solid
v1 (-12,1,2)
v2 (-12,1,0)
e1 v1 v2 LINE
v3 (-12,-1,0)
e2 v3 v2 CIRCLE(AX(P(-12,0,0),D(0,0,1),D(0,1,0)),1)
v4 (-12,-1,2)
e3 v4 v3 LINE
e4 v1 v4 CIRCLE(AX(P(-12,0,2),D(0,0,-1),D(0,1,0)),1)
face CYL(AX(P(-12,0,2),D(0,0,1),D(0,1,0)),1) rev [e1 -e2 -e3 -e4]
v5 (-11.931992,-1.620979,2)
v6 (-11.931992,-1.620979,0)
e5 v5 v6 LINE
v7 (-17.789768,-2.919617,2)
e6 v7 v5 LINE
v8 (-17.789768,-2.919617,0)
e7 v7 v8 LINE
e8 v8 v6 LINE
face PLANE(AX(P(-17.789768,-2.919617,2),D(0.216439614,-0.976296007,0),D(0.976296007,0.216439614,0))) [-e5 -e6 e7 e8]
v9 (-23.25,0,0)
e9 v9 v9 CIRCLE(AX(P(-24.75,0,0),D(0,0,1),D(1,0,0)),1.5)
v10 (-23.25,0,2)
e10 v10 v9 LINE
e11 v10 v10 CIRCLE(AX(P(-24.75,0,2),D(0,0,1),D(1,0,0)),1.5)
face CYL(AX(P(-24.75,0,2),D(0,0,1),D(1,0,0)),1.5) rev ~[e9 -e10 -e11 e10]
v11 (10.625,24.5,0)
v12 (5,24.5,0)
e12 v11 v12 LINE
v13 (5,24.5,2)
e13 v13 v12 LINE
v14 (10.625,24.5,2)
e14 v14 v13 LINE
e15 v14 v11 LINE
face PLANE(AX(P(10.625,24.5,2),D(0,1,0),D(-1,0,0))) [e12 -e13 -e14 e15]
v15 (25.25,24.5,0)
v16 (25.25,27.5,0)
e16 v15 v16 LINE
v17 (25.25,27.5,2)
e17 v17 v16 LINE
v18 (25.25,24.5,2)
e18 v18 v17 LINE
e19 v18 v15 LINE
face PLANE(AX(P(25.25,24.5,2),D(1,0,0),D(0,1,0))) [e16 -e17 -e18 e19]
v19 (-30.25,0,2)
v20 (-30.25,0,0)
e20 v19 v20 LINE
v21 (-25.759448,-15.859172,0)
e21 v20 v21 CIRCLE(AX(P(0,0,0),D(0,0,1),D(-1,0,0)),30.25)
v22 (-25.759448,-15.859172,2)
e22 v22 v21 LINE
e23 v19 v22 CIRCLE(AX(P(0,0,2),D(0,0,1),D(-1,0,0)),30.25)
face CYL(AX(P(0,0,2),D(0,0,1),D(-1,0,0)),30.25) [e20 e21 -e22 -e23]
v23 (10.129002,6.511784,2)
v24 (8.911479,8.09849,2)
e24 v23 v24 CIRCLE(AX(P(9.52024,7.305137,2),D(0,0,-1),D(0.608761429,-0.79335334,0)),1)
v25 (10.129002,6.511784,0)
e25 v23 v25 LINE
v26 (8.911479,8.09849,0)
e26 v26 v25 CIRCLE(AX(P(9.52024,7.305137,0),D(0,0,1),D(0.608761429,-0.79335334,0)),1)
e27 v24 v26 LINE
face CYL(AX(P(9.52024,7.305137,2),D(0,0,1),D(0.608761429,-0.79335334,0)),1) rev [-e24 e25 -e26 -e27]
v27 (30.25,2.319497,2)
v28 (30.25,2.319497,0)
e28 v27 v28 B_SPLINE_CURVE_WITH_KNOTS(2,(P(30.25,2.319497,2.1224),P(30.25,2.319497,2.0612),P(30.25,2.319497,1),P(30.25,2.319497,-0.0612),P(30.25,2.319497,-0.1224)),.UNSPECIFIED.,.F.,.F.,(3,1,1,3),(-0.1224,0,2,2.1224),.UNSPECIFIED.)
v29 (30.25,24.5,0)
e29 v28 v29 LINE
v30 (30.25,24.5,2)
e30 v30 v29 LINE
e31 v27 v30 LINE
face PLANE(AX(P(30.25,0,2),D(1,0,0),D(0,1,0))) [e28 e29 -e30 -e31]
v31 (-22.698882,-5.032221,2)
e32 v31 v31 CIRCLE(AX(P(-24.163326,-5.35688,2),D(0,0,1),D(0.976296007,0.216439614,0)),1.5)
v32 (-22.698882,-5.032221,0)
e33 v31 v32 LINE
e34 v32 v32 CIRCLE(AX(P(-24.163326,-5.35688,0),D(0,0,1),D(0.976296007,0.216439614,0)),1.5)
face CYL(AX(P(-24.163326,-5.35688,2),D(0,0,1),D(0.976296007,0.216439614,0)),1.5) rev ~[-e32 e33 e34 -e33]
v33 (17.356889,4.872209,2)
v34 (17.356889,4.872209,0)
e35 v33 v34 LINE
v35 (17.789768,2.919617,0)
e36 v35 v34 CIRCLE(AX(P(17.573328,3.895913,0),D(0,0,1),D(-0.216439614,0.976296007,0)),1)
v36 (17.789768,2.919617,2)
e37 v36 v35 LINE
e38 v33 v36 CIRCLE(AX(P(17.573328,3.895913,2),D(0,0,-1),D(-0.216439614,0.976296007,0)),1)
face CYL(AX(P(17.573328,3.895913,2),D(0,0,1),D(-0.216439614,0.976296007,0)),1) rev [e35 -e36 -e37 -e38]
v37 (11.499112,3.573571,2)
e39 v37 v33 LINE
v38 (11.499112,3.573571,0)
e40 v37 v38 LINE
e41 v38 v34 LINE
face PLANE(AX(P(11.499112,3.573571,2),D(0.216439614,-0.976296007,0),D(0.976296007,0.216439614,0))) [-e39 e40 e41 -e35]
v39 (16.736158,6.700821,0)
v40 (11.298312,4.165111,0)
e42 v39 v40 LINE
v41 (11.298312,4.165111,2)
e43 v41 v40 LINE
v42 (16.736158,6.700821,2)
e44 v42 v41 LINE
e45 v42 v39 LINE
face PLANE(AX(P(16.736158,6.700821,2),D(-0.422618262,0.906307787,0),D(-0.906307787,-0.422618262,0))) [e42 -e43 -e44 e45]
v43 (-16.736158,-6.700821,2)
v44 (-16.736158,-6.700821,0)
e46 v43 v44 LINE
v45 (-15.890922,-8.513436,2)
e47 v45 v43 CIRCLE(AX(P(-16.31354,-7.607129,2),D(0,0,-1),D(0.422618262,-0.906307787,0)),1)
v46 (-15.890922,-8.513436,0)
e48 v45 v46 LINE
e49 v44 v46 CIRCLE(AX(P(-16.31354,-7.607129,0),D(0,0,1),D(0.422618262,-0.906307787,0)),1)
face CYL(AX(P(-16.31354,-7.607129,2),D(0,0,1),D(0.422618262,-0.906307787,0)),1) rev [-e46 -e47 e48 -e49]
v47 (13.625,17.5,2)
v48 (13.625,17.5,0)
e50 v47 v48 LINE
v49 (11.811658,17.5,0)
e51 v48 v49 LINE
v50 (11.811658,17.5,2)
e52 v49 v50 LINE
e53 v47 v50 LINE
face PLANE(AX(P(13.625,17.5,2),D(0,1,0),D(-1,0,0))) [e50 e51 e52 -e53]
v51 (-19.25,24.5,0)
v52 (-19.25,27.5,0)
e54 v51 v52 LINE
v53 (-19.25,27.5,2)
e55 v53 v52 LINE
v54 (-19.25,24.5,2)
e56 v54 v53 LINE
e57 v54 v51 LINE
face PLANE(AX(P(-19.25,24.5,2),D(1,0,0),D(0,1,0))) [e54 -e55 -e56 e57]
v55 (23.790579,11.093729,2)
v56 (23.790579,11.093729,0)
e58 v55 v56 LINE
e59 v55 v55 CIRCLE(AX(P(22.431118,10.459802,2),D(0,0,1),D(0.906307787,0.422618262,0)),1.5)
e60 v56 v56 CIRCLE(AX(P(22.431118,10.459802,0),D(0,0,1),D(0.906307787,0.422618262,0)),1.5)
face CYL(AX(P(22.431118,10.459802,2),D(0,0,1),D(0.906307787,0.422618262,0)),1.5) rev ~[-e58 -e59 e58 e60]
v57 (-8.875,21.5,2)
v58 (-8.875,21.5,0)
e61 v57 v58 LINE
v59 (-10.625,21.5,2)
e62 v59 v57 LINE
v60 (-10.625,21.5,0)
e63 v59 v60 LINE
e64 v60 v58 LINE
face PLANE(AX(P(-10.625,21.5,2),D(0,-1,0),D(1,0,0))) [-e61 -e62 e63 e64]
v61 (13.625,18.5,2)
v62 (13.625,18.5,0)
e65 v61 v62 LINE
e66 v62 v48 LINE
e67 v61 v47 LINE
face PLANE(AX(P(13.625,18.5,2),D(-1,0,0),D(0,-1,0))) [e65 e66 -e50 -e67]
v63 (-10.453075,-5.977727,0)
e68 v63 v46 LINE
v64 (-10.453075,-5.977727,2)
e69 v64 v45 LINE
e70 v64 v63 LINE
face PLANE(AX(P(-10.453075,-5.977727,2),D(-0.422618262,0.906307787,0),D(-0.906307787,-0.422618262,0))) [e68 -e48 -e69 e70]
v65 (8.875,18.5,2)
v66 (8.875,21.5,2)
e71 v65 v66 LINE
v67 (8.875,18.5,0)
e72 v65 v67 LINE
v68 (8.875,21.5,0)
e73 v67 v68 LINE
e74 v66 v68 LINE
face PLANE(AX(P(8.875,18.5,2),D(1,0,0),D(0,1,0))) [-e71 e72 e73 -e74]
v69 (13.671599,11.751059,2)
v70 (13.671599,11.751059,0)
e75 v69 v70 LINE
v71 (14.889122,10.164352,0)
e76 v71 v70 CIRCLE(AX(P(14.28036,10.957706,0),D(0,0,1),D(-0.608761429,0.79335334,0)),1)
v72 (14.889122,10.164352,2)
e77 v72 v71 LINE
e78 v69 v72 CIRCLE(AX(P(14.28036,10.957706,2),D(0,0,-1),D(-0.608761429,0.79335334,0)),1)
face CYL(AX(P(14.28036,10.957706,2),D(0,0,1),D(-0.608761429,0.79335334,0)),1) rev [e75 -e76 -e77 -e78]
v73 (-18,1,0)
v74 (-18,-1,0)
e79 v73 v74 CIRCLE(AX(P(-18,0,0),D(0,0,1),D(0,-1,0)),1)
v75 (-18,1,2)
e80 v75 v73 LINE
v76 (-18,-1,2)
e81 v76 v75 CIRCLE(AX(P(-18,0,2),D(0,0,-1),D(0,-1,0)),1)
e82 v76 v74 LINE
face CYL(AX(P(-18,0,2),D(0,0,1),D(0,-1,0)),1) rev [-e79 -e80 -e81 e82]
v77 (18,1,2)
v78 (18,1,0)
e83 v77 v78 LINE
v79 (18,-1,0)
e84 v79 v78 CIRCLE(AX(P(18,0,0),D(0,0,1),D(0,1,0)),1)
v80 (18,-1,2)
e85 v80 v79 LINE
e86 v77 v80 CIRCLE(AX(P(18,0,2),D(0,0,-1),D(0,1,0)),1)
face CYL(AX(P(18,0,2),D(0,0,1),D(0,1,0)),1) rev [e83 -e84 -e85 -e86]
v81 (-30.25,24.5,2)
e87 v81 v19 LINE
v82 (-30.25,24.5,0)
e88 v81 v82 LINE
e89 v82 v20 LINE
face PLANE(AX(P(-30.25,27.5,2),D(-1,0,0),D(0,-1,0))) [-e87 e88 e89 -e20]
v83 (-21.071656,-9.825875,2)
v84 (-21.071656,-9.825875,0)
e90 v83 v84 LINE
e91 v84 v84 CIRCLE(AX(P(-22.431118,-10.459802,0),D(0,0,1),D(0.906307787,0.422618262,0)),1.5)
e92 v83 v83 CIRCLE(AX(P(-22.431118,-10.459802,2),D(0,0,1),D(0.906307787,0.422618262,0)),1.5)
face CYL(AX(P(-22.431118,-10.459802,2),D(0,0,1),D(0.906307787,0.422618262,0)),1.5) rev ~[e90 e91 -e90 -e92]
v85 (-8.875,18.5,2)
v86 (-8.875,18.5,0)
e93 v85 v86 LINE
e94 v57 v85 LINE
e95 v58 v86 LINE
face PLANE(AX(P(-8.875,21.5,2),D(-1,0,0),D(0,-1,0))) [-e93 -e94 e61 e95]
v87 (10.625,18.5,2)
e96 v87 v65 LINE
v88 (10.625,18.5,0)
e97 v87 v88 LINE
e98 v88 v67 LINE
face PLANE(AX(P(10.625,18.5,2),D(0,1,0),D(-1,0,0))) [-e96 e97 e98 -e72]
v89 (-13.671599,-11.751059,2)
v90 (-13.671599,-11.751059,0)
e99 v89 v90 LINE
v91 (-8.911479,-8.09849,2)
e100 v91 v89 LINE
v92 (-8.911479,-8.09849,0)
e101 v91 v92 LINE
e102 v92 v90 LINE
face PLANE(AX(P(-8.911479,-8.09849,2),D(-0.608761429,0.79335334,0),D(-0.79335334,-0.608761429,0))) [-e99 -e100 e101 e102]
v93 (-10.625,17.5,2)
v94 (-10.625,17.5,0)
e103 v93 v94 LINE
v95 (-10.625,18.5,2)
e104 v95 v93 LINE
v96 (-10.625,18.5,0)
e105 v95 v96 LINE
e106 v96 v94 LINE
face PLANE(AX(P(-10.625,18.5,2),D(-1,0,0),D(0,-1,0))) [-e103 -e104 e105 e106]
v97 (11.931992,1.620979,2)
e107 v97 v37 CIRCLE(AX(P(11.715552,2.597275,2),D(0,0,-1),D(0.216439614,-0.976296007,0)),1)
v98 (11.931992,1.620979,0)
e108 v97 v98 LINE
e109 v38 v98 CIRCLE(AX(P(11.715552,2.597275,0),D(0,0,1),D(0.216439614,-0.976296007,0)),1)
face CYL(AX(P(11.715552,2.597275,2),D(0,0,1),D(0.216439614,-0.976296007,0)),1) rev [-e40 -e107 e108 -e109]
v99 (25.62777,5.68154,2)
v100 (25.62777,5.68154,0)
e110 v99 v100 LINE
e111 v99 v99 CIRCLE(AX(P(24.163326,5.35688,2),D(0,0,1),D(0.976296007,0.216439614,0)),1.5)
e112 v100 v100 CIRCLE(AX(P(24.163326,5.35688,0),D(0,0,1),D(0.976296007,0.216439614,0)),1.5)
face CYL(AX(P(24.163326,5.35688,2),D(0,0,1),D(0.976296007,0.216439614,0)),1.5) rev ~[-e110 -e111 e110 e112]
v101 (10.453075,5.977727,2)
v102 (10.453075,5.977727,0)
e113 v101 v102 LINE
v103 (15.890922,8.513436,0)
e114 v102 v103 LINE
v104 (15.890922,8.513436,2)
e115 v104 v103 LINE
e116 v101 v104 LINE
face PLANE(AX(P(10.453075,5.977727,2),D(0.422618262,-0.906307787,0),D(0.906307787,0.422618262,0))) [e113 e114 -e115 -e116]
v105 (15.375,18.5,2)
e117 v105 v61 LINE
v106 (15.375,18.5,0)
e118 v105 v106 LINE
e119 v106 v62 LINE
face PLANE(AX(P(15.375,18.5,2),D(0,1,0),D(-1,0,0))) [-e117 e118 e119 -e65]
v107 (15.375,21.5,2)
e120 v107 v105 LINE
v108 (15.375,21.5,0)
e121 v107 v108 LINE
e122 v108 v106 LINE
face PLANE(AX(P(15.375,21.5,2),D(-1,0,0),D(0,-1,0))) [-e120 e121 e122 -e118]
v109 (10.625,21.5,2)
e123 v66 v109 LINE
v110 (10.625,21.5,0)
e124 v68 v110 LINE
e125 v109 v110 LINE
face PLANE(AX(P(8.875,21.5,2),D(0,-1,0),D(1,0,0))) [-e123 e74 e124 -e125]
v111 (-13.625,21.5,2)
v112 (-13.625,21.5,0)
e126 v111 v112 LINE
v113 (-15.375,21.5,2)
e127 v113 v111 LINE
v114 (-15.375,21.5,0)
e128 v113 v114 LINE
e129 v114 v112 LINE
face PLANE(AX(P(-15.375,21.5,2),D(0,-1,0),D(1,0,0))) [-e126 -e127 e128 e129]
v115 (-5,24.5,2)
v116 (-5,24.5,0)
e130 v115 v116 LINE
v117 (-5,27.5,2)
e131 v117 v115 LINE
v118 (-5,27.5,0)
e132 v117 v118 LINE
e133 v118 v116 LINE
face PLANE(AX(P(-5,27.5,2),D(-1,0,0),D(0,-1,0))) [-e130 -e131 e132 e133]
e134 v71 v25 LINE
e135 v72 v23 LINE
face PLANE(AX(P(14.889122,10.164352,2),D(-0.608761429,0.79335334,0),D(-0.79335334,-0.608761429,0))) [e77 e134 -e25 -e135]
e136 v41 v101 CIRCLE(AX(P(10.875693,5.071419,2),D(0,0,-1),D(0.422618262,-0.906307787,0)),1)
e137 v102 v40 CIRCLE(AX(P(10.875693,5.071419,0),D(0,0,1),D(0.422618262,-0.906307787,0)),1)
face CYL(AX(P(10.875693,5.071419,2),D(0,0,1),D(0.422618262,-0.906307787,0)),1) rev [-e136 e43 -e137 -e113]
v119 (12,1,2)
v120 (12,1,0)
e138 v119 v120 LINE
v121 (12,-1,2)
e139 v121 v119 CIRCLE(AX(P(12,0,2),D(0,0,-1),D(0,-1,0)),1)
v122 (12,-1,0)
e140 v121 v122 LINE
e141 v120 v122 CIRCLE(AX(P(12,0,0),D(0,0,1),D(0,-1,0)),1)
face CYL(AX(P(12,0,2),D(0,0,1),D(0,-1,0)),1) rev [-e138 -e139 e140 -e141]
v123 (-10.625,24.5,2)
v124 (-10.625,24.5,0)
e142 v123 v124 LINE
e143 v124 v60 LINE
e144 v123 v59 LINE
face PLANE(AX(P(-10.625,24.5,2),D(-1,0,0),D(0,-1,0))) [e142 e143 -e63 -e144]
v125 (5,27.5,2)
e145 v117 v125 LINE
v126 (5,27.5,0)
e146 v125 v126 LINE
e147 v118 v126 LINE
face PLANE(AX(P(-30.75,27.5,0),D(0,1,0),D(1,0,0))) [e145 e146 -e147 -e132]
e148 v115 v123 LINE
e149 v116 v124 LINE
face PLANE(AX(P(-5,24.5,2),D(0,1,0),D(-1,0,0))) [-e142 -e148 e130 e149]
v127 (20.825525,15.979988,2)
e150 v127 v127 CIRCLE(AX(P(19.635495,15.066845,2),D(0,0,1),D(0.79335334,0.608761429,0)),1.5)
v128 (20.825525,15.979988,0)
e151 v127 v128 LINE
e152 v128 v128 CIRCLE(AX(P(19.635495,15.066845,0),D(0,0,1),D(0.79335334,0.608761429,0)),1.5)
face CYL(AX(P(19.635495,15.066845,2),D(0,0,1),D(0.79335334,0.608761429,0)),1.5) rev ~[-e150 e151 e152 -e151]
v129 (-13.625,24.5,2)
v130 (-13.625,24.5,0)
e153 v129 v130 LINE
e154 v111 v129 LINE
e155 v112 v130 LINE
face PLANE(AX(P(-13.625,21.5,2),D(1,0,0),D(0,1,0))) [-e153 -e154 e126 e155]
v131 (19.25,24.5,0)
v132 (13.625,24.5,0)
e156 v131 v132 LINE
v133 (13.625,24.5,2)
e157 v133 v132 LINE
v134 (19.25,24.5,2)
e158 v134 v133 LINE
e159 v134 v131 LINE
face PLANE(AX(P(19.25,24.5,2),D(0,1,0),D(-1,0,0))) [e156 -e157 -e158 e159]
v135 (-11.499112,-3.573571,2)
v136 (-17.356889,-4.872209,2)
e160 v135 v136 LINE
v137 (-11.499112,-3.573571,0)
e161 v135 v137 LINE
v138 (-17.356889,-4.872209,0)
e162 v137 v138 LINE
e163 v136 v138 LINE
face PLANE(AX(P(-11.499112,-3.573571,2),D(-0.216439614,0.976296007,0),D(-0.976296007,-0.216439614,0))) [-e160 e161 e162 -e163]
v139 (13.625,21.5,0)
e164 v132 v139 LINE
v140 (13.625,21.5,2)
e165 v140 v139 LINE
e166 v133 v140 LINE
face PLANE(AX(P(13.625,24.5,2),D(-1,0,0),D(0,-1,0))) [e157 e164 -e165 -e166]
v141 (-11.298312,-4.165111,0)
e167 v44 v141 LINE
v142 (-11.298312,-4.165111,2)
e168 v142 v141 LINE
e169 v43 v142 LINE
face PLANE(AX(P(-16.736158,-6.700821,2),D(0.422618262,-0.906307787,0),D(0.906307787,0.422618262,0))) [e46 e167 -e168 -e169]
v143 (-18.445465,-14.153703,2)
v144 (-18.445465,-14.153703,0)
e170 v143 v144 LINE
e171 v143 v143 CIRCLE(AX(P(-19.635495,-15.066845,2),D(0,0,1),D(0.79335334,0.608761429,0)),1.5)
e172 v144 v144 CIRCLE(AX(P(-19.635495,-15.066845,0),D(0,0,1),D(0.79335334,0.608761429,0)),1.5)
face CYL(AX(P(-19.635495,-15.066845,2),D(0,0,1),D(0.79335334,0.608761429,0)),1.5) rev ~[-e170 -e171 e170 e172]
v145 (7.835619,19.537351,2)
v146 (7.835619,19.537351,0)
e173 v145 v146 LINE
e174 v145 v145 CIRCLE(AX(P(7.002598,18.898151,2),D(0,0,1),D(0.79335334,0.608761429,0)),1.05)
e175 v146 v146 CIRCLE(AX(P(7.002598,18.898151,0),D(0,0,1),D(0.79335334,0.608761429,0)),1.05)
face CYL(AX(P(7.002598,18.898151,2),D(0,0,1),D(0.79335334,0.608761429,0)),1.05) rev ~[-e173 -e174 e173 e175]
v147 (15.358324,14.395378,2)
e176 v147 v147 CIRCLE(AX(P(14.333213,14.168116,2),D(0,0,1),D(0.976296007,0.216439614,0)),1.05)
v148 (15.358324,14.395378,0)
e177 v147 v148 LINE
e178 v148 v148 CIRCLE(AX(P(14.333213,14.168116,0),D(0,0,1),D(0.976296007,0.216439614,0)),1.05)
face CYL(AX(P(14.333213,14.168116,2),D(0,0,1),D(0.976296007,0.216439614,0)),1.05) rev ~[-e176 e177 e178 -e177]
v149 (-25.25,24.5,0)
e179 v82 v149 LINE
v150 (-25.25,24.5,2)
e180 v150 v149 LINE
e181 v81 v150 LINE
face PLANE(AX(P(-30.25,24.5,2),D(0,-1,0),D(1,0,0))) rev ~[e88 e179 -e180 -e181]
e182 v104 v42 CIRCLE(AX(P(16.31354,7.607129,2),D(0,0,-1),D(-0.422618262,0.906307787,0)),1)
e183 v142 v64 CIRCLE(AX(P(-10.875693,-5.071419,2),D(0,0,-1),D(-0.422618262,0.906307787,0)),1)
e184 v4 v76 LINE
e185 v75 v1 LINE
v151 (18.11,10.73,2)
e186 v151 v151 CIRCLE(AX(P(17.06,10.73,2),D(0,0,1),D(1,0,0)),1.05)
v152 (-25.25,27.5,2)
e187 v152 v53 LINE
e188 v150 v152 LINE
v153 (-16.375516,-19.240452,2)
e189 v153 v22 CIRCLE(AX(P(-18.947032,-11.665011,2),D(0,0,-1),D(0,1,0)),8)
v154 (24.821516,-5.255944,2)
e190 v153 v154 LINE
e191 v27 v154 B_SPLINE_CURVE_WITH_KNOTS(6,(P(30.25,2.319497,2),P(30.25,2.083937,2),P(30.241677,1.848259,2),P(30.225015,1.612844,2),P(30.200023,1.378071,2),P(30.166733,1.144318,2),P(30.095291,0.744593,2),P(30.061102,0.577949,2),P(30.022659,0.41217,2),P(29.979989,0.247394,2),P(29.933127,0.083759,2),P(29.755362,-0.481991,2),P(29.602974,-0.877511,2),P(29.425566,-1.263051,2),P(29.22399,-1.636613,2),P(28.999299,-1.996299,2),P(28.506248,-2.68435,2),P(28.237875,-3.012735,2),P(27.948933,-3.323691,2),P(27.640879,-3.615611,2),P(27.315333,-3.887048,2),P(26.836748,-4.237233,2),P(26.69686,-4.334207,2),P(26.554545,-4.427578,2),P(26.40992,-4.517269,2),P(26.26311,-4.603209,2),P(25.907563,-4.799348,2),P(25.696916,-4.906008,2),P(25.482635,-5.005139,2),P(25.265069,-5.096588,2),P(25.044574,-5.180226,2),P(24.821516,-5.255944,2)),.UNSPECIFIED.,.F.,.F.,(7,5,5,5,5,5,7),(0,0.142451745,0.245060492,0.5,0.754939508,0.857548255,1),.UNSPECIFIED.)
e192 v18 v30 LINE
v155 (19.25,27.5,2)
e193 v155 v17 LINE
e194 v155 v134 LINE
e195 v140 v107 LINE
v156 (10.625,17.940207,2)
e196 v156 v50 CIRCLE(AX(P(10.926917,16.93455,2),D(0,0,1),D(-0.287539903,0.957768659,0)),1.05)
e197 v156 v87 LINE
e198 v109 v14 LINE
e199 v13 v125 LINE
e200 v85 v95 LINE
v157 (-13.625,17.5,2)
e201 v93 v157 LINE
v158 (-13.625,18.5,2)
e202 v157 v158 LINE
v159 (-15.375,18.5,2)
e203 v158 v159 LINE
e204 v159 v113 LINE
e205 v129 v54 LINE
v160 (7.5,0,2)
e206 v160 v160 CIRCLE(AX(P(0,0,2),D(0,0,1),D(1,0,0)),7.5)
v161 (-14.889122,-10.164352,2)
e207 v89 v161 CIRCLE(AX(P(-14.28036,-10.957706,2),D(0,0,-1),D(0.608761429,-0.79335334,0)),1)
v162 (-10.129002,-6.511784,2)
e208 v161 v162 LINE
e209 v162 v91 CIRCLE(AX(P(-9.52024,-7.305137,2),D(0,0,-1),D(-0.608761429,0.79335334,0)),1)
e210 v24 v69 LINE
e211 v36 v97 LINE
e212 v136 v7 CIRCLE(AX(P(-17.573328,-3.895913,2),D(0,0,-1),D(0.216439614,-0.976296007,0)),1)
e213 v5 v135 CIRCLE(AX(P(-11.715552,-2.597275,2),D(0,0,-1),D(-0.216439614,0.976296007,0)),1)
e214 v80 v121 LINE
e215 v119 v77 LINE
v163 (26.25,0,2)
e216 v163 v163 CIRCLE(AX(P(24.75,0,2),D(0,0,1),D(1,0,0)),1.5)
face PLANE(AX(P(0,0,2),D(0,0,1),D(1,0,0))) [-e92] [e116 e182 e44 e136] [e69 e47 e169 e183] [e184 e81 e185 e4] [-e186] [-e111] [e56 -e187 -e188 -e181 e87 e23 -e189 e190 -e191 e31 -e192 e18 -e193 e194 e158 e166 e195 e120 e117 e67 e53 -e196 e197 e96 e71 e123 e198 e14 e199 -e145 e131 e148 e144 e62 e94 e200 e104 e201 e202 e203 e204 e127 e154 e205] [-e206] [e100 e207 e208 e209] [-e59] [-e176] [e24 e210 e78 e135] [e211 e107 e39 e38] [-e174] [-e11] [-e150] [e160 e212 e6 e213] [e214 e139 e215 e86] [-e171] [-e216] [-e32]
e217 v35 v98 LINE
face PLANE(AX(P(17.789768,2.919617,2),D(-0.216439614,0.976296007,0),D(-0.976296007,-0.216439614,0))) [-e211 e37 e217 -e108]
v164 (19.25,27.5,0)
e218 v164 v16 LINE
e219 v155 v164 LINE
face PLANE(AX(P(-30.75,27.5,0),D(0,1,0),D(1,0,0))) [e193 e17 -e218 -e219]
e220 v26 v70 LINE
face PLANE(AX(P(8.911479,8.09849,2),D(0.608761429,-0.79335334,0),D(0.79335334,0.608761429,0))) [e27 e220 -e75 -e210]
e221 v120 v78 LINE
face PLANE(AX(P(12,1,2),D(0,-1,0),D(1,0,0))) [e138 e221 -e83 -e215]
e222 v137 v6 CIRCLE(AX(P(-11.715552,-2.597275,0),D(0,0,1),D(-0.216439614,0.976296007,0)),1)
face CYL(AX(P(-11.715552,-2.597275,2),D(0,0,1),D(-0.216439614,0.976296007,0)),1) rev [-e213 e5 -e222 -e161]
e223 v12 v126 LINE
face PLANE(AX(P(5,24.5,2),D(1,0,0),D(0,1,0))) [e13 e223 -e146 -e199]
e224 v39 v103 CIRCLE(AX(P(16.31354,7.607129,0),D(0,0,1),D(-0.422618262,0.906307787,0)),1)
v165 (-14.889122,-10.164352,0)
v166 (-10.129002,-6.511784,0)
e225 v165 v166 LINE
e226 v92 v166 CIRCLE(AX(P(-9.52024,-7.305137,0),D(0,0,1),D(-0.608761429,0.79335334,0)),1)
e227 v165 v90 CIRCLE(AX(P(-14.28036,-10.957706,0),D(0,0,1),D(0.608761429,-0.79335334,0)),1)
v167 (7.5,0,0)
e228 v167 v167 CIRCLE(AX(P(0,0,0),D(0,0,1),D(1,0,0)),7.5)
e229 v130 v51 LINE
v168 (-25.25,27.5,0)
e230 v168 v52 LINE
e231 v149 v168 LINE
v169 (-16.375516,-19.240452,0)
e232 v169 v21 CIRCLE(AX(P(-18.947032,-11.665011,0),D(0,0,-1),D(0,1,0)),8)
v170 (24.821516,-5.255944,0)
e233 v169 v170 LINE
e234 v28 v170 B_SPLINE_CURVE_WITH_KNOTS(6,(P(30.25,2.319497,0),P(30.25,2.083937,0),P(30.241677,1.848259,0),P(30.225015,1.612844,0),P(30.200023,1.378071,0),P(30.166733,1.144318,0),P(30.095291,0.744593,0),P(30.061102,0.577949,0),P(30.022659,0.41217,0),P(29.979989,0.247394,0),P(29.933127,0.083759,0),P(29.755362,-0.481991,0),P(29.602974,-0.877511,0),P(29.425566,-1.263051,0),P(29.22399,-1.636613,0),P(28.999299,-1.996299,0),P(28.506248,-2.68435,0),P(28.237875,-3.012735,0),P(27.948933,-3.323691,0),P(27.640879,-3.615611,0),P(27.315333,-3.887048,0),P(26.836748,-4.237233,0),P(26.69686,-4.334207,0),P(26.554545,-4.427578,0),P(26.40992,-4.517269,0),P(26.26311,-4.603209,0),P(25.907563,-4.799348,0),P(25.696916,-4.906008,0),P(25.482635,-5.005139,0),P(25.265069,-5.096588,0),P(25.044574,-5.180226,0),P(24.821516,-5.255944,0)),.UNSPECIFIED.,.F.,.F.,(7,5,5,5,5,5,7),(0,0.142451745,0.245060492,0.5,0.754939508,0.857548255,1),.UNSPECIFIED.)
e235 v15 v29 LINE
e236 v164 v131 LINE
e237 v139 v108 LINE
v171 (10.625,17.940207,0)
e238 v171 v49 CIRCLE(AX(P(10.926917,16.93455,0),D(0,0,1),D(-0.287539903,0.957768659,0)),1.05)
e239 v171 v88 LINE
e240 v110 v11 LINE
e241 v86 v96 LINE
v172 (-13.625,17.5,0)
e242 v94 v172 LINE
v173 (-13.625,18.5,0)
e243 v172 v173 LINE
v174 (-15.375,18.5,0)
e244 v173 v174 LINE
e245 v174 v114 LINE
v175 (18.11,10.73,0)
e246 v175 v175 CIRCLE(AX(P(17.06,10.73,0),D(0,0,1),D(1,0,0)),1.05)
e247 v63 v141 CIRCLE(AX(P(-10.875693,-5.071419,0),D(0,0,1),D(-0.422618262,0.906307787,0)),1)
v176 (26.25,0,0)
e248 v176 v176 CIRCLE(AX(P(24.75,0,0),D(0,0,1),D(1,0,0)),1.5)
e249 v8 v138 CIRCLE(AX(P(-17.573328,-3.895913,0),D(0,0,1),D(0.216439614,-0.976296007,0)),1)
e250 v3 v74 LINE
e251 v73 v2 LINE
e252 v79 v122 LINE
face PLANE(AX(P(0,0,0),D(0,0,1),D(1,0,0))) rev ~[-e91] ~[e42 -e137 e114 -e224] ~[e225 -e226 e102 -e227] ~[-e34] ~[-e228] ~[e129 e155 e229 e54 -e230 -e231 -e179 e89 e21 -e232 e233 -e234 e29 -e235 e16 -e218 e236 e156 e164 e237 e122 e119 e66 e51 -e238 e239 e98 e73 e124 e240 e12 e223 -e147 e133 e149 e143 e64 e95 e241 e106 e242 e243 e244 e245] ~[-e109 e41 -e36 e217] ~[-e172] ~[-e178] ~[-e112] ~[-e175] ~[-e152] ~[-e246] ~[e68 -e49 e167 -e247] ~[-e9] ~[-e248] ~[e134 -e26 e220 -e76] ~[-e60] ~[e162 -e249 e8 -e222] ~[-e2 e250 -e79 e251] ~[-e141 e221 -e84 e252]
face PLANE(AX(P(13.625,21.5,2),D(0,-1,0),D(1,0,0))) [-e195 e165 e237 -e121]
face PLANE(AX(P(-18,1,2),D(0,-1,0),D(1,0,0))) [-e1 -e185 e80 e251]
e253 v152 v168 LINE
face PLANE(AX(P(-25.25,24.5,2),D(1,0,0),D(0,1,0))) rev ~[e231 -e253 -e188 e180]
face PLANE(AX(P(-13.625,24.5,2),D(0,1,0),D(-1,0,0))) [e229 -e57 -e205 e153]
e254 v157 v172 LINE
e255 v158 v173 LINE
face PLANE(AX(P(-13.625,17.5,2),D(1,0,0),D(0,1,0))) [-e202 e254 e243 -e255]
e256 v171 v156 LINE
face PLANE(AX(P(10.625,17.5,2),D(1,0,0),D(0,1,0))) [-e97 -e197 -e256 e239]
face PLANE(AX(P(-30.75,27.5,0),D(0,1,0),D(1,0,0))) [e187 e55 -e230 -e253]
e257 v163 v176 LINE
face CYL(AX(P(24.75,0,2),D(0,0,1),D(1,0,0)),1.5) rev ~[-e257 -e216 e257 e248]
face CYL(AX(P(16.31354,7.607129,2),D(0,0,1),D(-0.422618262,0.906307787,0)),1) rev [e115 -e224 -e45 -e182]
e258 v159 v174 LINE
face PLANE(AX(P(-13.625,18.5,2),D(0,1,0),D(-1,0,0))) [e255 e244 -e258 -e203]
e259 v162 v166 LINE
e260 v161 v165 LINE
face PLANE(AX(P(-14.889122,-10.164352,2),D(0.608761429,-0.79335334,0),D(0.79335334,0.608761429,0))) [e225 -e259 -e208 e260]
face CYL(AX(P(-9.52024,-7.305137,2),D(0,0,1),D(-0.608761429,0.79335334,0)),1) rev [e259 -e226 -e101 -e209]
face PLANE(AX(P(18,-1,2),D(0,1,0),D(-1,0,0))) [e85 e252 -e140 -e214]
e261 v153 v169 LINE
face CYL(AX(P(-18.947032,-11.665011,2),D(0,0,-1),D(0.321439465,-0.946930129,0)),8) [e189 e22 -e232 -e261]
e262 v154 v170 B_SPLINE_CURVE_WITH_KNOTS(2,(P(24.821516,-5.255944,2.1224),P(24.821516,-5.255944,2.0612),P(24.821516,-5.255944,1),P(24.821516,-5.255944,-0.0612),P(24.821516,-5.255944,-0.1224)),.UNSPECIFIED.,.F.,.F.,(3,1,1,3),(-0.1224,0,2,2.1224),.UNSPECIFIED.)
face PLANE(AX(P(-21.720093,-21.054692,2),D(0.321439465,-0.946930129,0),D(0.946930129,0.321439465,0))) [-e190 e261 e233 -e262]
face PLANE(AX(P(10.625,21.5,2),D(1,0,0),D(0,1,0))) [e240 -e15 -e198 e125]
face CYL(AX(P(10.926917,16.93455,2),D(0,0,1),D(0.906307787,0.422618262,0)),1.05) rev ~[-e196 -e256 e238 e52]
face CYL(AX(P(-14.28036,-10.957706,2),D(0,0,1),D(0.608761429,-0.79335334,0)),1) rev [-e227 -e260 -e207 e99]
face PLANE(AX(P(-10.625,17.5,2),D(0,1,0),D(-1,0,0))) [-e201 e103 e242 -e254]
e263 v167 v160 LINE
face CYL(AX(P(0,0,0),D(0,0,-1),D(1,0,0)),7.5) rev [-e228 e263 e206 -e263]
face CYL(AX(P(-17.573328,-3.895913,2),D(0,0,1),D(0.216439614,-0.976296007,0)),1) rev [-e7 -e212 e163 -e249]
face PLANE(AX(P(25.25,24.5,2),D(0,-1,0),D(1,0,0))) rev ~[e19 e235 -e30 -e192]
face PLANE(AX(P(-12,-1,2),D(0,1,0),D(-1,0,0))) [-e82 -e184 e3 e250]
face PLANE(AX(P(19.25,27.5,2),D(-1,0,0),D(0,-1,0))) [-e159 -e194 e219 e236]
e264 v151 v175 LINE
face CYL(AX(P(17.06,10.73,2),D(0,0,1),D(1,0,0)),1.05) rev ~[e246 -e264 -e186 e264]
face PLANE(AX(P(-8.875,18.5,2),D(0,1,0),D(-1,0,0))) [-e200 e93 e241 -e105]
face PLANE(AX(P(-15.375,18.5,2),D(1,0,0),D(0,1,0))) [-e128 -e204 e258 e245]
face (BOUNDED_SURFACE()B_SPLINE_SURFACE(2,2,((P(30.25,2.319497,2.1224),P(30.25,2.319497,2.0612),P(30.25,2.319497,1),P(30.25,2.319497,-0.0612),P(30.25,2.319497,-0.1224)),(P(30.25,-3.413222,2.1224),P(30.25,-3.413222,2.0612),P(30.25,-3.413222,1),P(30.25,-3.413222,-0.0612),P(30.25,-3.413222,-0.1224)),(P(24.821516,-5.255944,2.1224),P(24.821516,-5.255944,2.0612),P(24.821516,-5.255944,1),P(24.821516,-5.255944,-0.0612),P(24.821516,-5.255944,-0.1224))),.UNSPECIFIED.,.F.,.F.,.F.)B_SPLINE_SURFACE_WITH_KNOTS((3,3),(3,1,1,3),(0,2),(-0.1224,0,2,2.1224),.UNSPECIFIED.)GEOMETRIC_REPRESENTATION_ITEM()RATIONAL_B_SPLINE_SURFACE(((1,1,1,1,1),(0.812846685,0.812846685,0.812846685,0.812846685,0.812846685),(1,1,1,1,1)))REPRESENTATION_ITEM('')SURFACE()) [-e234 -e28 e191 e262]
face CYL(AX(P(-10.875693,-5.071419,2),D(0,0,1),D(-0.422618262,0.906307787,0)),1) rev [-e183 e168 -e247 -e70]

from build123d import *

# Parameters (mm, degrees)
SKETCH_1_W               = 61.5
SKETCH_1_H               = 55
SKETCH_1_R               = 7.5
EXTRUDE_1_DEPTH          = 2
SKETCH_2_R               = 1.5
SKETCH_2_R_2             = 1.05
CUT_EXTRUDE_1_DEPTH      = 42.301483024
PATTERN_CIRCULAR_1_COUNT = 4
PATTERN_CIRCULAR_1_ANGLE = 37.5
CUT_EXTRUDE_2_DEPTH      = 42.301483024
FILLET_1_R               = 8
SKETCH_5_W               = 5
SKETCH_5_H               = 3
CUT_EXTRUDE_3_DEPTH      = 41.930581622


with BuildPart() as part:
    # 草图1 → 凸台-拉伸1 (new body)
    with BuildSketch(Plane.XY):
        Rectangle(SKETCH_1_W, SKETCH_1_H)
        Circle(SKETCH_1_R, mode=Mode.SUBTRACT)
    extrude(amount=EXTRUDE_1_DEPTH)

    # 草图2 → 切除-拉伸1 (cut, through all)
    with BuildSketch(Plane.XY.offset(2)):
        with Locations((24.75, 0)):
            Circle(SKETCH_2_R)
        with Locations((-24.75, 0)):
            Circle(SKETCH_2_R)
        with Locations((17.06, 10.73)):
            Circle(SKETCH_2_R_2)
        with BuildLine():
            Line((-18, 1), (-12, 1))
            ThreePointArc((-12, 1), (-11, 0), (-12, -1))
            Line((-12, -1), (-18, -1))
            ThreePointArc((-18, -1), (-19, 0), (-18, 1))
        make_face()
        with BuildLine():
            Line((12, 1), (18, 1))
            ThreePointArc((18, 1), (19, 0), (18, -1))
            Line((18, -1), (12, -1))
            ThreePointArc((12, -1), (11, 0), (12, 1))
        make_face()
    cut_extrude_1 = extrude(amount=-CUT_EXTRUDE_1_DEPTH, mode=Mode.SUBTRACT)

    # 阵列(圆周)1: 切除-拉伸1 ×4 about axis
    pattern_circular_1_axis = Axis((0, 0, 0), (0, 0, 1))
    for i in range(1, PATTERN_CIRCULAR_1_COUNT):
        add(cut_extrude_1.rotate(pattern_circular_1_axis, i * PATTERN_CIRCULAR_1_ANGLE / (PATTERN_CIRCULAR_1_COUNT - 1)), mode=Mode.SUBTRACT)

    # 草图3 → 切除-拉伸2 (cut, through all)
    with BuildSketch(Plane.XY.offset(2)):
        with BuildLine():
            Line((-21.720093373, -21.05469173), (30.048992854, -3.481454933))
            ThreePointArc((30.048992854, -3.481454933), (30.199706405, -1.743626417), (30.25, 0))
            Line((30.25, 0), (30.25, 27.5))
            Line((30.25, 27.5), (30.75, 27.5))
            Line((30.75, 27.5), (30.75, 0))
            Line((30.75, 0), (30.75, -27.5))
            Line((30.75, -27.5), (-30.75, -27.5))
            Line((-30.75, -27.5), (-30.75, 0))
            Line((-30.75, 0), (-30.75, 27.5))
            Line((-30.75, 27.5), (-30.25, 27.5))
            Line((-30.25, 27.5), (-30.25, 0))
            ThreePointArc((-30.25, 0), (-28.036541553, -11.358469867), (-21.720093373, -21.05469173))
        make_face()
    extrude(amount=-CUT_EXTRUDE_2_DEPTH, mode=Mode.SUBTRACT)

    # 圆角1
    fillet_1_edges = [part.edges().sort_by_distance(p)[0] for p in [
        (30.048992854, -3.481454933, 1),
        (-21.720093373, -21.05469173, 1),
    ]]
    fillet(fillet_1_edges, radius=FILLET_1_R)

    # 草图5 → 切除-拉伸3 (cut, through all)
    with BuildSketch(Plane.XY.offset(2)):
        with Locations((-27.75, 26)):
            Rectangle(SKETCH_5_W, SKETCH_5_H)
        Polygon((-19.25, 27.5), (-5, 27.5), (-5, 24.5), (-10.625, 24.5), (-10.625, 21.5), (-8.875, 21.5), (-8.875, 18.5), (-10.625, 18.5), (-10.625, 17.5), (-13.625, 17.5), (-13.625, 18.5), (-15.375, 18.5), (-15.375, 21.5), (-13.625, 21.5), (-13.625, 24.5), (-19.25, 24.5), align=None)
        Polygon((5, 27.5), (19.25, 27.5), (19.25, 24.5), (13.625, 24.5), (13.625, 21.5), (15.375, 21.5), (15.375, 18.5), (13.625, 18.5), (13.625, 17.5), (10.625, 17.5), (10.625, 18.5), (8.875, 18.5), (8.875, 21.5), (10.625, 21.5), (10.625, 24.5), (5, 24.5), align=None)
        with Locations((27.75, 26)):
            Rectangle(SKETCH_5_W, SKETCH_5_H)
    extrude(amount=-CUT_EXTRUDE_3_DEPTH, mode=Mode.SUBTRACT)


solid = part.part
